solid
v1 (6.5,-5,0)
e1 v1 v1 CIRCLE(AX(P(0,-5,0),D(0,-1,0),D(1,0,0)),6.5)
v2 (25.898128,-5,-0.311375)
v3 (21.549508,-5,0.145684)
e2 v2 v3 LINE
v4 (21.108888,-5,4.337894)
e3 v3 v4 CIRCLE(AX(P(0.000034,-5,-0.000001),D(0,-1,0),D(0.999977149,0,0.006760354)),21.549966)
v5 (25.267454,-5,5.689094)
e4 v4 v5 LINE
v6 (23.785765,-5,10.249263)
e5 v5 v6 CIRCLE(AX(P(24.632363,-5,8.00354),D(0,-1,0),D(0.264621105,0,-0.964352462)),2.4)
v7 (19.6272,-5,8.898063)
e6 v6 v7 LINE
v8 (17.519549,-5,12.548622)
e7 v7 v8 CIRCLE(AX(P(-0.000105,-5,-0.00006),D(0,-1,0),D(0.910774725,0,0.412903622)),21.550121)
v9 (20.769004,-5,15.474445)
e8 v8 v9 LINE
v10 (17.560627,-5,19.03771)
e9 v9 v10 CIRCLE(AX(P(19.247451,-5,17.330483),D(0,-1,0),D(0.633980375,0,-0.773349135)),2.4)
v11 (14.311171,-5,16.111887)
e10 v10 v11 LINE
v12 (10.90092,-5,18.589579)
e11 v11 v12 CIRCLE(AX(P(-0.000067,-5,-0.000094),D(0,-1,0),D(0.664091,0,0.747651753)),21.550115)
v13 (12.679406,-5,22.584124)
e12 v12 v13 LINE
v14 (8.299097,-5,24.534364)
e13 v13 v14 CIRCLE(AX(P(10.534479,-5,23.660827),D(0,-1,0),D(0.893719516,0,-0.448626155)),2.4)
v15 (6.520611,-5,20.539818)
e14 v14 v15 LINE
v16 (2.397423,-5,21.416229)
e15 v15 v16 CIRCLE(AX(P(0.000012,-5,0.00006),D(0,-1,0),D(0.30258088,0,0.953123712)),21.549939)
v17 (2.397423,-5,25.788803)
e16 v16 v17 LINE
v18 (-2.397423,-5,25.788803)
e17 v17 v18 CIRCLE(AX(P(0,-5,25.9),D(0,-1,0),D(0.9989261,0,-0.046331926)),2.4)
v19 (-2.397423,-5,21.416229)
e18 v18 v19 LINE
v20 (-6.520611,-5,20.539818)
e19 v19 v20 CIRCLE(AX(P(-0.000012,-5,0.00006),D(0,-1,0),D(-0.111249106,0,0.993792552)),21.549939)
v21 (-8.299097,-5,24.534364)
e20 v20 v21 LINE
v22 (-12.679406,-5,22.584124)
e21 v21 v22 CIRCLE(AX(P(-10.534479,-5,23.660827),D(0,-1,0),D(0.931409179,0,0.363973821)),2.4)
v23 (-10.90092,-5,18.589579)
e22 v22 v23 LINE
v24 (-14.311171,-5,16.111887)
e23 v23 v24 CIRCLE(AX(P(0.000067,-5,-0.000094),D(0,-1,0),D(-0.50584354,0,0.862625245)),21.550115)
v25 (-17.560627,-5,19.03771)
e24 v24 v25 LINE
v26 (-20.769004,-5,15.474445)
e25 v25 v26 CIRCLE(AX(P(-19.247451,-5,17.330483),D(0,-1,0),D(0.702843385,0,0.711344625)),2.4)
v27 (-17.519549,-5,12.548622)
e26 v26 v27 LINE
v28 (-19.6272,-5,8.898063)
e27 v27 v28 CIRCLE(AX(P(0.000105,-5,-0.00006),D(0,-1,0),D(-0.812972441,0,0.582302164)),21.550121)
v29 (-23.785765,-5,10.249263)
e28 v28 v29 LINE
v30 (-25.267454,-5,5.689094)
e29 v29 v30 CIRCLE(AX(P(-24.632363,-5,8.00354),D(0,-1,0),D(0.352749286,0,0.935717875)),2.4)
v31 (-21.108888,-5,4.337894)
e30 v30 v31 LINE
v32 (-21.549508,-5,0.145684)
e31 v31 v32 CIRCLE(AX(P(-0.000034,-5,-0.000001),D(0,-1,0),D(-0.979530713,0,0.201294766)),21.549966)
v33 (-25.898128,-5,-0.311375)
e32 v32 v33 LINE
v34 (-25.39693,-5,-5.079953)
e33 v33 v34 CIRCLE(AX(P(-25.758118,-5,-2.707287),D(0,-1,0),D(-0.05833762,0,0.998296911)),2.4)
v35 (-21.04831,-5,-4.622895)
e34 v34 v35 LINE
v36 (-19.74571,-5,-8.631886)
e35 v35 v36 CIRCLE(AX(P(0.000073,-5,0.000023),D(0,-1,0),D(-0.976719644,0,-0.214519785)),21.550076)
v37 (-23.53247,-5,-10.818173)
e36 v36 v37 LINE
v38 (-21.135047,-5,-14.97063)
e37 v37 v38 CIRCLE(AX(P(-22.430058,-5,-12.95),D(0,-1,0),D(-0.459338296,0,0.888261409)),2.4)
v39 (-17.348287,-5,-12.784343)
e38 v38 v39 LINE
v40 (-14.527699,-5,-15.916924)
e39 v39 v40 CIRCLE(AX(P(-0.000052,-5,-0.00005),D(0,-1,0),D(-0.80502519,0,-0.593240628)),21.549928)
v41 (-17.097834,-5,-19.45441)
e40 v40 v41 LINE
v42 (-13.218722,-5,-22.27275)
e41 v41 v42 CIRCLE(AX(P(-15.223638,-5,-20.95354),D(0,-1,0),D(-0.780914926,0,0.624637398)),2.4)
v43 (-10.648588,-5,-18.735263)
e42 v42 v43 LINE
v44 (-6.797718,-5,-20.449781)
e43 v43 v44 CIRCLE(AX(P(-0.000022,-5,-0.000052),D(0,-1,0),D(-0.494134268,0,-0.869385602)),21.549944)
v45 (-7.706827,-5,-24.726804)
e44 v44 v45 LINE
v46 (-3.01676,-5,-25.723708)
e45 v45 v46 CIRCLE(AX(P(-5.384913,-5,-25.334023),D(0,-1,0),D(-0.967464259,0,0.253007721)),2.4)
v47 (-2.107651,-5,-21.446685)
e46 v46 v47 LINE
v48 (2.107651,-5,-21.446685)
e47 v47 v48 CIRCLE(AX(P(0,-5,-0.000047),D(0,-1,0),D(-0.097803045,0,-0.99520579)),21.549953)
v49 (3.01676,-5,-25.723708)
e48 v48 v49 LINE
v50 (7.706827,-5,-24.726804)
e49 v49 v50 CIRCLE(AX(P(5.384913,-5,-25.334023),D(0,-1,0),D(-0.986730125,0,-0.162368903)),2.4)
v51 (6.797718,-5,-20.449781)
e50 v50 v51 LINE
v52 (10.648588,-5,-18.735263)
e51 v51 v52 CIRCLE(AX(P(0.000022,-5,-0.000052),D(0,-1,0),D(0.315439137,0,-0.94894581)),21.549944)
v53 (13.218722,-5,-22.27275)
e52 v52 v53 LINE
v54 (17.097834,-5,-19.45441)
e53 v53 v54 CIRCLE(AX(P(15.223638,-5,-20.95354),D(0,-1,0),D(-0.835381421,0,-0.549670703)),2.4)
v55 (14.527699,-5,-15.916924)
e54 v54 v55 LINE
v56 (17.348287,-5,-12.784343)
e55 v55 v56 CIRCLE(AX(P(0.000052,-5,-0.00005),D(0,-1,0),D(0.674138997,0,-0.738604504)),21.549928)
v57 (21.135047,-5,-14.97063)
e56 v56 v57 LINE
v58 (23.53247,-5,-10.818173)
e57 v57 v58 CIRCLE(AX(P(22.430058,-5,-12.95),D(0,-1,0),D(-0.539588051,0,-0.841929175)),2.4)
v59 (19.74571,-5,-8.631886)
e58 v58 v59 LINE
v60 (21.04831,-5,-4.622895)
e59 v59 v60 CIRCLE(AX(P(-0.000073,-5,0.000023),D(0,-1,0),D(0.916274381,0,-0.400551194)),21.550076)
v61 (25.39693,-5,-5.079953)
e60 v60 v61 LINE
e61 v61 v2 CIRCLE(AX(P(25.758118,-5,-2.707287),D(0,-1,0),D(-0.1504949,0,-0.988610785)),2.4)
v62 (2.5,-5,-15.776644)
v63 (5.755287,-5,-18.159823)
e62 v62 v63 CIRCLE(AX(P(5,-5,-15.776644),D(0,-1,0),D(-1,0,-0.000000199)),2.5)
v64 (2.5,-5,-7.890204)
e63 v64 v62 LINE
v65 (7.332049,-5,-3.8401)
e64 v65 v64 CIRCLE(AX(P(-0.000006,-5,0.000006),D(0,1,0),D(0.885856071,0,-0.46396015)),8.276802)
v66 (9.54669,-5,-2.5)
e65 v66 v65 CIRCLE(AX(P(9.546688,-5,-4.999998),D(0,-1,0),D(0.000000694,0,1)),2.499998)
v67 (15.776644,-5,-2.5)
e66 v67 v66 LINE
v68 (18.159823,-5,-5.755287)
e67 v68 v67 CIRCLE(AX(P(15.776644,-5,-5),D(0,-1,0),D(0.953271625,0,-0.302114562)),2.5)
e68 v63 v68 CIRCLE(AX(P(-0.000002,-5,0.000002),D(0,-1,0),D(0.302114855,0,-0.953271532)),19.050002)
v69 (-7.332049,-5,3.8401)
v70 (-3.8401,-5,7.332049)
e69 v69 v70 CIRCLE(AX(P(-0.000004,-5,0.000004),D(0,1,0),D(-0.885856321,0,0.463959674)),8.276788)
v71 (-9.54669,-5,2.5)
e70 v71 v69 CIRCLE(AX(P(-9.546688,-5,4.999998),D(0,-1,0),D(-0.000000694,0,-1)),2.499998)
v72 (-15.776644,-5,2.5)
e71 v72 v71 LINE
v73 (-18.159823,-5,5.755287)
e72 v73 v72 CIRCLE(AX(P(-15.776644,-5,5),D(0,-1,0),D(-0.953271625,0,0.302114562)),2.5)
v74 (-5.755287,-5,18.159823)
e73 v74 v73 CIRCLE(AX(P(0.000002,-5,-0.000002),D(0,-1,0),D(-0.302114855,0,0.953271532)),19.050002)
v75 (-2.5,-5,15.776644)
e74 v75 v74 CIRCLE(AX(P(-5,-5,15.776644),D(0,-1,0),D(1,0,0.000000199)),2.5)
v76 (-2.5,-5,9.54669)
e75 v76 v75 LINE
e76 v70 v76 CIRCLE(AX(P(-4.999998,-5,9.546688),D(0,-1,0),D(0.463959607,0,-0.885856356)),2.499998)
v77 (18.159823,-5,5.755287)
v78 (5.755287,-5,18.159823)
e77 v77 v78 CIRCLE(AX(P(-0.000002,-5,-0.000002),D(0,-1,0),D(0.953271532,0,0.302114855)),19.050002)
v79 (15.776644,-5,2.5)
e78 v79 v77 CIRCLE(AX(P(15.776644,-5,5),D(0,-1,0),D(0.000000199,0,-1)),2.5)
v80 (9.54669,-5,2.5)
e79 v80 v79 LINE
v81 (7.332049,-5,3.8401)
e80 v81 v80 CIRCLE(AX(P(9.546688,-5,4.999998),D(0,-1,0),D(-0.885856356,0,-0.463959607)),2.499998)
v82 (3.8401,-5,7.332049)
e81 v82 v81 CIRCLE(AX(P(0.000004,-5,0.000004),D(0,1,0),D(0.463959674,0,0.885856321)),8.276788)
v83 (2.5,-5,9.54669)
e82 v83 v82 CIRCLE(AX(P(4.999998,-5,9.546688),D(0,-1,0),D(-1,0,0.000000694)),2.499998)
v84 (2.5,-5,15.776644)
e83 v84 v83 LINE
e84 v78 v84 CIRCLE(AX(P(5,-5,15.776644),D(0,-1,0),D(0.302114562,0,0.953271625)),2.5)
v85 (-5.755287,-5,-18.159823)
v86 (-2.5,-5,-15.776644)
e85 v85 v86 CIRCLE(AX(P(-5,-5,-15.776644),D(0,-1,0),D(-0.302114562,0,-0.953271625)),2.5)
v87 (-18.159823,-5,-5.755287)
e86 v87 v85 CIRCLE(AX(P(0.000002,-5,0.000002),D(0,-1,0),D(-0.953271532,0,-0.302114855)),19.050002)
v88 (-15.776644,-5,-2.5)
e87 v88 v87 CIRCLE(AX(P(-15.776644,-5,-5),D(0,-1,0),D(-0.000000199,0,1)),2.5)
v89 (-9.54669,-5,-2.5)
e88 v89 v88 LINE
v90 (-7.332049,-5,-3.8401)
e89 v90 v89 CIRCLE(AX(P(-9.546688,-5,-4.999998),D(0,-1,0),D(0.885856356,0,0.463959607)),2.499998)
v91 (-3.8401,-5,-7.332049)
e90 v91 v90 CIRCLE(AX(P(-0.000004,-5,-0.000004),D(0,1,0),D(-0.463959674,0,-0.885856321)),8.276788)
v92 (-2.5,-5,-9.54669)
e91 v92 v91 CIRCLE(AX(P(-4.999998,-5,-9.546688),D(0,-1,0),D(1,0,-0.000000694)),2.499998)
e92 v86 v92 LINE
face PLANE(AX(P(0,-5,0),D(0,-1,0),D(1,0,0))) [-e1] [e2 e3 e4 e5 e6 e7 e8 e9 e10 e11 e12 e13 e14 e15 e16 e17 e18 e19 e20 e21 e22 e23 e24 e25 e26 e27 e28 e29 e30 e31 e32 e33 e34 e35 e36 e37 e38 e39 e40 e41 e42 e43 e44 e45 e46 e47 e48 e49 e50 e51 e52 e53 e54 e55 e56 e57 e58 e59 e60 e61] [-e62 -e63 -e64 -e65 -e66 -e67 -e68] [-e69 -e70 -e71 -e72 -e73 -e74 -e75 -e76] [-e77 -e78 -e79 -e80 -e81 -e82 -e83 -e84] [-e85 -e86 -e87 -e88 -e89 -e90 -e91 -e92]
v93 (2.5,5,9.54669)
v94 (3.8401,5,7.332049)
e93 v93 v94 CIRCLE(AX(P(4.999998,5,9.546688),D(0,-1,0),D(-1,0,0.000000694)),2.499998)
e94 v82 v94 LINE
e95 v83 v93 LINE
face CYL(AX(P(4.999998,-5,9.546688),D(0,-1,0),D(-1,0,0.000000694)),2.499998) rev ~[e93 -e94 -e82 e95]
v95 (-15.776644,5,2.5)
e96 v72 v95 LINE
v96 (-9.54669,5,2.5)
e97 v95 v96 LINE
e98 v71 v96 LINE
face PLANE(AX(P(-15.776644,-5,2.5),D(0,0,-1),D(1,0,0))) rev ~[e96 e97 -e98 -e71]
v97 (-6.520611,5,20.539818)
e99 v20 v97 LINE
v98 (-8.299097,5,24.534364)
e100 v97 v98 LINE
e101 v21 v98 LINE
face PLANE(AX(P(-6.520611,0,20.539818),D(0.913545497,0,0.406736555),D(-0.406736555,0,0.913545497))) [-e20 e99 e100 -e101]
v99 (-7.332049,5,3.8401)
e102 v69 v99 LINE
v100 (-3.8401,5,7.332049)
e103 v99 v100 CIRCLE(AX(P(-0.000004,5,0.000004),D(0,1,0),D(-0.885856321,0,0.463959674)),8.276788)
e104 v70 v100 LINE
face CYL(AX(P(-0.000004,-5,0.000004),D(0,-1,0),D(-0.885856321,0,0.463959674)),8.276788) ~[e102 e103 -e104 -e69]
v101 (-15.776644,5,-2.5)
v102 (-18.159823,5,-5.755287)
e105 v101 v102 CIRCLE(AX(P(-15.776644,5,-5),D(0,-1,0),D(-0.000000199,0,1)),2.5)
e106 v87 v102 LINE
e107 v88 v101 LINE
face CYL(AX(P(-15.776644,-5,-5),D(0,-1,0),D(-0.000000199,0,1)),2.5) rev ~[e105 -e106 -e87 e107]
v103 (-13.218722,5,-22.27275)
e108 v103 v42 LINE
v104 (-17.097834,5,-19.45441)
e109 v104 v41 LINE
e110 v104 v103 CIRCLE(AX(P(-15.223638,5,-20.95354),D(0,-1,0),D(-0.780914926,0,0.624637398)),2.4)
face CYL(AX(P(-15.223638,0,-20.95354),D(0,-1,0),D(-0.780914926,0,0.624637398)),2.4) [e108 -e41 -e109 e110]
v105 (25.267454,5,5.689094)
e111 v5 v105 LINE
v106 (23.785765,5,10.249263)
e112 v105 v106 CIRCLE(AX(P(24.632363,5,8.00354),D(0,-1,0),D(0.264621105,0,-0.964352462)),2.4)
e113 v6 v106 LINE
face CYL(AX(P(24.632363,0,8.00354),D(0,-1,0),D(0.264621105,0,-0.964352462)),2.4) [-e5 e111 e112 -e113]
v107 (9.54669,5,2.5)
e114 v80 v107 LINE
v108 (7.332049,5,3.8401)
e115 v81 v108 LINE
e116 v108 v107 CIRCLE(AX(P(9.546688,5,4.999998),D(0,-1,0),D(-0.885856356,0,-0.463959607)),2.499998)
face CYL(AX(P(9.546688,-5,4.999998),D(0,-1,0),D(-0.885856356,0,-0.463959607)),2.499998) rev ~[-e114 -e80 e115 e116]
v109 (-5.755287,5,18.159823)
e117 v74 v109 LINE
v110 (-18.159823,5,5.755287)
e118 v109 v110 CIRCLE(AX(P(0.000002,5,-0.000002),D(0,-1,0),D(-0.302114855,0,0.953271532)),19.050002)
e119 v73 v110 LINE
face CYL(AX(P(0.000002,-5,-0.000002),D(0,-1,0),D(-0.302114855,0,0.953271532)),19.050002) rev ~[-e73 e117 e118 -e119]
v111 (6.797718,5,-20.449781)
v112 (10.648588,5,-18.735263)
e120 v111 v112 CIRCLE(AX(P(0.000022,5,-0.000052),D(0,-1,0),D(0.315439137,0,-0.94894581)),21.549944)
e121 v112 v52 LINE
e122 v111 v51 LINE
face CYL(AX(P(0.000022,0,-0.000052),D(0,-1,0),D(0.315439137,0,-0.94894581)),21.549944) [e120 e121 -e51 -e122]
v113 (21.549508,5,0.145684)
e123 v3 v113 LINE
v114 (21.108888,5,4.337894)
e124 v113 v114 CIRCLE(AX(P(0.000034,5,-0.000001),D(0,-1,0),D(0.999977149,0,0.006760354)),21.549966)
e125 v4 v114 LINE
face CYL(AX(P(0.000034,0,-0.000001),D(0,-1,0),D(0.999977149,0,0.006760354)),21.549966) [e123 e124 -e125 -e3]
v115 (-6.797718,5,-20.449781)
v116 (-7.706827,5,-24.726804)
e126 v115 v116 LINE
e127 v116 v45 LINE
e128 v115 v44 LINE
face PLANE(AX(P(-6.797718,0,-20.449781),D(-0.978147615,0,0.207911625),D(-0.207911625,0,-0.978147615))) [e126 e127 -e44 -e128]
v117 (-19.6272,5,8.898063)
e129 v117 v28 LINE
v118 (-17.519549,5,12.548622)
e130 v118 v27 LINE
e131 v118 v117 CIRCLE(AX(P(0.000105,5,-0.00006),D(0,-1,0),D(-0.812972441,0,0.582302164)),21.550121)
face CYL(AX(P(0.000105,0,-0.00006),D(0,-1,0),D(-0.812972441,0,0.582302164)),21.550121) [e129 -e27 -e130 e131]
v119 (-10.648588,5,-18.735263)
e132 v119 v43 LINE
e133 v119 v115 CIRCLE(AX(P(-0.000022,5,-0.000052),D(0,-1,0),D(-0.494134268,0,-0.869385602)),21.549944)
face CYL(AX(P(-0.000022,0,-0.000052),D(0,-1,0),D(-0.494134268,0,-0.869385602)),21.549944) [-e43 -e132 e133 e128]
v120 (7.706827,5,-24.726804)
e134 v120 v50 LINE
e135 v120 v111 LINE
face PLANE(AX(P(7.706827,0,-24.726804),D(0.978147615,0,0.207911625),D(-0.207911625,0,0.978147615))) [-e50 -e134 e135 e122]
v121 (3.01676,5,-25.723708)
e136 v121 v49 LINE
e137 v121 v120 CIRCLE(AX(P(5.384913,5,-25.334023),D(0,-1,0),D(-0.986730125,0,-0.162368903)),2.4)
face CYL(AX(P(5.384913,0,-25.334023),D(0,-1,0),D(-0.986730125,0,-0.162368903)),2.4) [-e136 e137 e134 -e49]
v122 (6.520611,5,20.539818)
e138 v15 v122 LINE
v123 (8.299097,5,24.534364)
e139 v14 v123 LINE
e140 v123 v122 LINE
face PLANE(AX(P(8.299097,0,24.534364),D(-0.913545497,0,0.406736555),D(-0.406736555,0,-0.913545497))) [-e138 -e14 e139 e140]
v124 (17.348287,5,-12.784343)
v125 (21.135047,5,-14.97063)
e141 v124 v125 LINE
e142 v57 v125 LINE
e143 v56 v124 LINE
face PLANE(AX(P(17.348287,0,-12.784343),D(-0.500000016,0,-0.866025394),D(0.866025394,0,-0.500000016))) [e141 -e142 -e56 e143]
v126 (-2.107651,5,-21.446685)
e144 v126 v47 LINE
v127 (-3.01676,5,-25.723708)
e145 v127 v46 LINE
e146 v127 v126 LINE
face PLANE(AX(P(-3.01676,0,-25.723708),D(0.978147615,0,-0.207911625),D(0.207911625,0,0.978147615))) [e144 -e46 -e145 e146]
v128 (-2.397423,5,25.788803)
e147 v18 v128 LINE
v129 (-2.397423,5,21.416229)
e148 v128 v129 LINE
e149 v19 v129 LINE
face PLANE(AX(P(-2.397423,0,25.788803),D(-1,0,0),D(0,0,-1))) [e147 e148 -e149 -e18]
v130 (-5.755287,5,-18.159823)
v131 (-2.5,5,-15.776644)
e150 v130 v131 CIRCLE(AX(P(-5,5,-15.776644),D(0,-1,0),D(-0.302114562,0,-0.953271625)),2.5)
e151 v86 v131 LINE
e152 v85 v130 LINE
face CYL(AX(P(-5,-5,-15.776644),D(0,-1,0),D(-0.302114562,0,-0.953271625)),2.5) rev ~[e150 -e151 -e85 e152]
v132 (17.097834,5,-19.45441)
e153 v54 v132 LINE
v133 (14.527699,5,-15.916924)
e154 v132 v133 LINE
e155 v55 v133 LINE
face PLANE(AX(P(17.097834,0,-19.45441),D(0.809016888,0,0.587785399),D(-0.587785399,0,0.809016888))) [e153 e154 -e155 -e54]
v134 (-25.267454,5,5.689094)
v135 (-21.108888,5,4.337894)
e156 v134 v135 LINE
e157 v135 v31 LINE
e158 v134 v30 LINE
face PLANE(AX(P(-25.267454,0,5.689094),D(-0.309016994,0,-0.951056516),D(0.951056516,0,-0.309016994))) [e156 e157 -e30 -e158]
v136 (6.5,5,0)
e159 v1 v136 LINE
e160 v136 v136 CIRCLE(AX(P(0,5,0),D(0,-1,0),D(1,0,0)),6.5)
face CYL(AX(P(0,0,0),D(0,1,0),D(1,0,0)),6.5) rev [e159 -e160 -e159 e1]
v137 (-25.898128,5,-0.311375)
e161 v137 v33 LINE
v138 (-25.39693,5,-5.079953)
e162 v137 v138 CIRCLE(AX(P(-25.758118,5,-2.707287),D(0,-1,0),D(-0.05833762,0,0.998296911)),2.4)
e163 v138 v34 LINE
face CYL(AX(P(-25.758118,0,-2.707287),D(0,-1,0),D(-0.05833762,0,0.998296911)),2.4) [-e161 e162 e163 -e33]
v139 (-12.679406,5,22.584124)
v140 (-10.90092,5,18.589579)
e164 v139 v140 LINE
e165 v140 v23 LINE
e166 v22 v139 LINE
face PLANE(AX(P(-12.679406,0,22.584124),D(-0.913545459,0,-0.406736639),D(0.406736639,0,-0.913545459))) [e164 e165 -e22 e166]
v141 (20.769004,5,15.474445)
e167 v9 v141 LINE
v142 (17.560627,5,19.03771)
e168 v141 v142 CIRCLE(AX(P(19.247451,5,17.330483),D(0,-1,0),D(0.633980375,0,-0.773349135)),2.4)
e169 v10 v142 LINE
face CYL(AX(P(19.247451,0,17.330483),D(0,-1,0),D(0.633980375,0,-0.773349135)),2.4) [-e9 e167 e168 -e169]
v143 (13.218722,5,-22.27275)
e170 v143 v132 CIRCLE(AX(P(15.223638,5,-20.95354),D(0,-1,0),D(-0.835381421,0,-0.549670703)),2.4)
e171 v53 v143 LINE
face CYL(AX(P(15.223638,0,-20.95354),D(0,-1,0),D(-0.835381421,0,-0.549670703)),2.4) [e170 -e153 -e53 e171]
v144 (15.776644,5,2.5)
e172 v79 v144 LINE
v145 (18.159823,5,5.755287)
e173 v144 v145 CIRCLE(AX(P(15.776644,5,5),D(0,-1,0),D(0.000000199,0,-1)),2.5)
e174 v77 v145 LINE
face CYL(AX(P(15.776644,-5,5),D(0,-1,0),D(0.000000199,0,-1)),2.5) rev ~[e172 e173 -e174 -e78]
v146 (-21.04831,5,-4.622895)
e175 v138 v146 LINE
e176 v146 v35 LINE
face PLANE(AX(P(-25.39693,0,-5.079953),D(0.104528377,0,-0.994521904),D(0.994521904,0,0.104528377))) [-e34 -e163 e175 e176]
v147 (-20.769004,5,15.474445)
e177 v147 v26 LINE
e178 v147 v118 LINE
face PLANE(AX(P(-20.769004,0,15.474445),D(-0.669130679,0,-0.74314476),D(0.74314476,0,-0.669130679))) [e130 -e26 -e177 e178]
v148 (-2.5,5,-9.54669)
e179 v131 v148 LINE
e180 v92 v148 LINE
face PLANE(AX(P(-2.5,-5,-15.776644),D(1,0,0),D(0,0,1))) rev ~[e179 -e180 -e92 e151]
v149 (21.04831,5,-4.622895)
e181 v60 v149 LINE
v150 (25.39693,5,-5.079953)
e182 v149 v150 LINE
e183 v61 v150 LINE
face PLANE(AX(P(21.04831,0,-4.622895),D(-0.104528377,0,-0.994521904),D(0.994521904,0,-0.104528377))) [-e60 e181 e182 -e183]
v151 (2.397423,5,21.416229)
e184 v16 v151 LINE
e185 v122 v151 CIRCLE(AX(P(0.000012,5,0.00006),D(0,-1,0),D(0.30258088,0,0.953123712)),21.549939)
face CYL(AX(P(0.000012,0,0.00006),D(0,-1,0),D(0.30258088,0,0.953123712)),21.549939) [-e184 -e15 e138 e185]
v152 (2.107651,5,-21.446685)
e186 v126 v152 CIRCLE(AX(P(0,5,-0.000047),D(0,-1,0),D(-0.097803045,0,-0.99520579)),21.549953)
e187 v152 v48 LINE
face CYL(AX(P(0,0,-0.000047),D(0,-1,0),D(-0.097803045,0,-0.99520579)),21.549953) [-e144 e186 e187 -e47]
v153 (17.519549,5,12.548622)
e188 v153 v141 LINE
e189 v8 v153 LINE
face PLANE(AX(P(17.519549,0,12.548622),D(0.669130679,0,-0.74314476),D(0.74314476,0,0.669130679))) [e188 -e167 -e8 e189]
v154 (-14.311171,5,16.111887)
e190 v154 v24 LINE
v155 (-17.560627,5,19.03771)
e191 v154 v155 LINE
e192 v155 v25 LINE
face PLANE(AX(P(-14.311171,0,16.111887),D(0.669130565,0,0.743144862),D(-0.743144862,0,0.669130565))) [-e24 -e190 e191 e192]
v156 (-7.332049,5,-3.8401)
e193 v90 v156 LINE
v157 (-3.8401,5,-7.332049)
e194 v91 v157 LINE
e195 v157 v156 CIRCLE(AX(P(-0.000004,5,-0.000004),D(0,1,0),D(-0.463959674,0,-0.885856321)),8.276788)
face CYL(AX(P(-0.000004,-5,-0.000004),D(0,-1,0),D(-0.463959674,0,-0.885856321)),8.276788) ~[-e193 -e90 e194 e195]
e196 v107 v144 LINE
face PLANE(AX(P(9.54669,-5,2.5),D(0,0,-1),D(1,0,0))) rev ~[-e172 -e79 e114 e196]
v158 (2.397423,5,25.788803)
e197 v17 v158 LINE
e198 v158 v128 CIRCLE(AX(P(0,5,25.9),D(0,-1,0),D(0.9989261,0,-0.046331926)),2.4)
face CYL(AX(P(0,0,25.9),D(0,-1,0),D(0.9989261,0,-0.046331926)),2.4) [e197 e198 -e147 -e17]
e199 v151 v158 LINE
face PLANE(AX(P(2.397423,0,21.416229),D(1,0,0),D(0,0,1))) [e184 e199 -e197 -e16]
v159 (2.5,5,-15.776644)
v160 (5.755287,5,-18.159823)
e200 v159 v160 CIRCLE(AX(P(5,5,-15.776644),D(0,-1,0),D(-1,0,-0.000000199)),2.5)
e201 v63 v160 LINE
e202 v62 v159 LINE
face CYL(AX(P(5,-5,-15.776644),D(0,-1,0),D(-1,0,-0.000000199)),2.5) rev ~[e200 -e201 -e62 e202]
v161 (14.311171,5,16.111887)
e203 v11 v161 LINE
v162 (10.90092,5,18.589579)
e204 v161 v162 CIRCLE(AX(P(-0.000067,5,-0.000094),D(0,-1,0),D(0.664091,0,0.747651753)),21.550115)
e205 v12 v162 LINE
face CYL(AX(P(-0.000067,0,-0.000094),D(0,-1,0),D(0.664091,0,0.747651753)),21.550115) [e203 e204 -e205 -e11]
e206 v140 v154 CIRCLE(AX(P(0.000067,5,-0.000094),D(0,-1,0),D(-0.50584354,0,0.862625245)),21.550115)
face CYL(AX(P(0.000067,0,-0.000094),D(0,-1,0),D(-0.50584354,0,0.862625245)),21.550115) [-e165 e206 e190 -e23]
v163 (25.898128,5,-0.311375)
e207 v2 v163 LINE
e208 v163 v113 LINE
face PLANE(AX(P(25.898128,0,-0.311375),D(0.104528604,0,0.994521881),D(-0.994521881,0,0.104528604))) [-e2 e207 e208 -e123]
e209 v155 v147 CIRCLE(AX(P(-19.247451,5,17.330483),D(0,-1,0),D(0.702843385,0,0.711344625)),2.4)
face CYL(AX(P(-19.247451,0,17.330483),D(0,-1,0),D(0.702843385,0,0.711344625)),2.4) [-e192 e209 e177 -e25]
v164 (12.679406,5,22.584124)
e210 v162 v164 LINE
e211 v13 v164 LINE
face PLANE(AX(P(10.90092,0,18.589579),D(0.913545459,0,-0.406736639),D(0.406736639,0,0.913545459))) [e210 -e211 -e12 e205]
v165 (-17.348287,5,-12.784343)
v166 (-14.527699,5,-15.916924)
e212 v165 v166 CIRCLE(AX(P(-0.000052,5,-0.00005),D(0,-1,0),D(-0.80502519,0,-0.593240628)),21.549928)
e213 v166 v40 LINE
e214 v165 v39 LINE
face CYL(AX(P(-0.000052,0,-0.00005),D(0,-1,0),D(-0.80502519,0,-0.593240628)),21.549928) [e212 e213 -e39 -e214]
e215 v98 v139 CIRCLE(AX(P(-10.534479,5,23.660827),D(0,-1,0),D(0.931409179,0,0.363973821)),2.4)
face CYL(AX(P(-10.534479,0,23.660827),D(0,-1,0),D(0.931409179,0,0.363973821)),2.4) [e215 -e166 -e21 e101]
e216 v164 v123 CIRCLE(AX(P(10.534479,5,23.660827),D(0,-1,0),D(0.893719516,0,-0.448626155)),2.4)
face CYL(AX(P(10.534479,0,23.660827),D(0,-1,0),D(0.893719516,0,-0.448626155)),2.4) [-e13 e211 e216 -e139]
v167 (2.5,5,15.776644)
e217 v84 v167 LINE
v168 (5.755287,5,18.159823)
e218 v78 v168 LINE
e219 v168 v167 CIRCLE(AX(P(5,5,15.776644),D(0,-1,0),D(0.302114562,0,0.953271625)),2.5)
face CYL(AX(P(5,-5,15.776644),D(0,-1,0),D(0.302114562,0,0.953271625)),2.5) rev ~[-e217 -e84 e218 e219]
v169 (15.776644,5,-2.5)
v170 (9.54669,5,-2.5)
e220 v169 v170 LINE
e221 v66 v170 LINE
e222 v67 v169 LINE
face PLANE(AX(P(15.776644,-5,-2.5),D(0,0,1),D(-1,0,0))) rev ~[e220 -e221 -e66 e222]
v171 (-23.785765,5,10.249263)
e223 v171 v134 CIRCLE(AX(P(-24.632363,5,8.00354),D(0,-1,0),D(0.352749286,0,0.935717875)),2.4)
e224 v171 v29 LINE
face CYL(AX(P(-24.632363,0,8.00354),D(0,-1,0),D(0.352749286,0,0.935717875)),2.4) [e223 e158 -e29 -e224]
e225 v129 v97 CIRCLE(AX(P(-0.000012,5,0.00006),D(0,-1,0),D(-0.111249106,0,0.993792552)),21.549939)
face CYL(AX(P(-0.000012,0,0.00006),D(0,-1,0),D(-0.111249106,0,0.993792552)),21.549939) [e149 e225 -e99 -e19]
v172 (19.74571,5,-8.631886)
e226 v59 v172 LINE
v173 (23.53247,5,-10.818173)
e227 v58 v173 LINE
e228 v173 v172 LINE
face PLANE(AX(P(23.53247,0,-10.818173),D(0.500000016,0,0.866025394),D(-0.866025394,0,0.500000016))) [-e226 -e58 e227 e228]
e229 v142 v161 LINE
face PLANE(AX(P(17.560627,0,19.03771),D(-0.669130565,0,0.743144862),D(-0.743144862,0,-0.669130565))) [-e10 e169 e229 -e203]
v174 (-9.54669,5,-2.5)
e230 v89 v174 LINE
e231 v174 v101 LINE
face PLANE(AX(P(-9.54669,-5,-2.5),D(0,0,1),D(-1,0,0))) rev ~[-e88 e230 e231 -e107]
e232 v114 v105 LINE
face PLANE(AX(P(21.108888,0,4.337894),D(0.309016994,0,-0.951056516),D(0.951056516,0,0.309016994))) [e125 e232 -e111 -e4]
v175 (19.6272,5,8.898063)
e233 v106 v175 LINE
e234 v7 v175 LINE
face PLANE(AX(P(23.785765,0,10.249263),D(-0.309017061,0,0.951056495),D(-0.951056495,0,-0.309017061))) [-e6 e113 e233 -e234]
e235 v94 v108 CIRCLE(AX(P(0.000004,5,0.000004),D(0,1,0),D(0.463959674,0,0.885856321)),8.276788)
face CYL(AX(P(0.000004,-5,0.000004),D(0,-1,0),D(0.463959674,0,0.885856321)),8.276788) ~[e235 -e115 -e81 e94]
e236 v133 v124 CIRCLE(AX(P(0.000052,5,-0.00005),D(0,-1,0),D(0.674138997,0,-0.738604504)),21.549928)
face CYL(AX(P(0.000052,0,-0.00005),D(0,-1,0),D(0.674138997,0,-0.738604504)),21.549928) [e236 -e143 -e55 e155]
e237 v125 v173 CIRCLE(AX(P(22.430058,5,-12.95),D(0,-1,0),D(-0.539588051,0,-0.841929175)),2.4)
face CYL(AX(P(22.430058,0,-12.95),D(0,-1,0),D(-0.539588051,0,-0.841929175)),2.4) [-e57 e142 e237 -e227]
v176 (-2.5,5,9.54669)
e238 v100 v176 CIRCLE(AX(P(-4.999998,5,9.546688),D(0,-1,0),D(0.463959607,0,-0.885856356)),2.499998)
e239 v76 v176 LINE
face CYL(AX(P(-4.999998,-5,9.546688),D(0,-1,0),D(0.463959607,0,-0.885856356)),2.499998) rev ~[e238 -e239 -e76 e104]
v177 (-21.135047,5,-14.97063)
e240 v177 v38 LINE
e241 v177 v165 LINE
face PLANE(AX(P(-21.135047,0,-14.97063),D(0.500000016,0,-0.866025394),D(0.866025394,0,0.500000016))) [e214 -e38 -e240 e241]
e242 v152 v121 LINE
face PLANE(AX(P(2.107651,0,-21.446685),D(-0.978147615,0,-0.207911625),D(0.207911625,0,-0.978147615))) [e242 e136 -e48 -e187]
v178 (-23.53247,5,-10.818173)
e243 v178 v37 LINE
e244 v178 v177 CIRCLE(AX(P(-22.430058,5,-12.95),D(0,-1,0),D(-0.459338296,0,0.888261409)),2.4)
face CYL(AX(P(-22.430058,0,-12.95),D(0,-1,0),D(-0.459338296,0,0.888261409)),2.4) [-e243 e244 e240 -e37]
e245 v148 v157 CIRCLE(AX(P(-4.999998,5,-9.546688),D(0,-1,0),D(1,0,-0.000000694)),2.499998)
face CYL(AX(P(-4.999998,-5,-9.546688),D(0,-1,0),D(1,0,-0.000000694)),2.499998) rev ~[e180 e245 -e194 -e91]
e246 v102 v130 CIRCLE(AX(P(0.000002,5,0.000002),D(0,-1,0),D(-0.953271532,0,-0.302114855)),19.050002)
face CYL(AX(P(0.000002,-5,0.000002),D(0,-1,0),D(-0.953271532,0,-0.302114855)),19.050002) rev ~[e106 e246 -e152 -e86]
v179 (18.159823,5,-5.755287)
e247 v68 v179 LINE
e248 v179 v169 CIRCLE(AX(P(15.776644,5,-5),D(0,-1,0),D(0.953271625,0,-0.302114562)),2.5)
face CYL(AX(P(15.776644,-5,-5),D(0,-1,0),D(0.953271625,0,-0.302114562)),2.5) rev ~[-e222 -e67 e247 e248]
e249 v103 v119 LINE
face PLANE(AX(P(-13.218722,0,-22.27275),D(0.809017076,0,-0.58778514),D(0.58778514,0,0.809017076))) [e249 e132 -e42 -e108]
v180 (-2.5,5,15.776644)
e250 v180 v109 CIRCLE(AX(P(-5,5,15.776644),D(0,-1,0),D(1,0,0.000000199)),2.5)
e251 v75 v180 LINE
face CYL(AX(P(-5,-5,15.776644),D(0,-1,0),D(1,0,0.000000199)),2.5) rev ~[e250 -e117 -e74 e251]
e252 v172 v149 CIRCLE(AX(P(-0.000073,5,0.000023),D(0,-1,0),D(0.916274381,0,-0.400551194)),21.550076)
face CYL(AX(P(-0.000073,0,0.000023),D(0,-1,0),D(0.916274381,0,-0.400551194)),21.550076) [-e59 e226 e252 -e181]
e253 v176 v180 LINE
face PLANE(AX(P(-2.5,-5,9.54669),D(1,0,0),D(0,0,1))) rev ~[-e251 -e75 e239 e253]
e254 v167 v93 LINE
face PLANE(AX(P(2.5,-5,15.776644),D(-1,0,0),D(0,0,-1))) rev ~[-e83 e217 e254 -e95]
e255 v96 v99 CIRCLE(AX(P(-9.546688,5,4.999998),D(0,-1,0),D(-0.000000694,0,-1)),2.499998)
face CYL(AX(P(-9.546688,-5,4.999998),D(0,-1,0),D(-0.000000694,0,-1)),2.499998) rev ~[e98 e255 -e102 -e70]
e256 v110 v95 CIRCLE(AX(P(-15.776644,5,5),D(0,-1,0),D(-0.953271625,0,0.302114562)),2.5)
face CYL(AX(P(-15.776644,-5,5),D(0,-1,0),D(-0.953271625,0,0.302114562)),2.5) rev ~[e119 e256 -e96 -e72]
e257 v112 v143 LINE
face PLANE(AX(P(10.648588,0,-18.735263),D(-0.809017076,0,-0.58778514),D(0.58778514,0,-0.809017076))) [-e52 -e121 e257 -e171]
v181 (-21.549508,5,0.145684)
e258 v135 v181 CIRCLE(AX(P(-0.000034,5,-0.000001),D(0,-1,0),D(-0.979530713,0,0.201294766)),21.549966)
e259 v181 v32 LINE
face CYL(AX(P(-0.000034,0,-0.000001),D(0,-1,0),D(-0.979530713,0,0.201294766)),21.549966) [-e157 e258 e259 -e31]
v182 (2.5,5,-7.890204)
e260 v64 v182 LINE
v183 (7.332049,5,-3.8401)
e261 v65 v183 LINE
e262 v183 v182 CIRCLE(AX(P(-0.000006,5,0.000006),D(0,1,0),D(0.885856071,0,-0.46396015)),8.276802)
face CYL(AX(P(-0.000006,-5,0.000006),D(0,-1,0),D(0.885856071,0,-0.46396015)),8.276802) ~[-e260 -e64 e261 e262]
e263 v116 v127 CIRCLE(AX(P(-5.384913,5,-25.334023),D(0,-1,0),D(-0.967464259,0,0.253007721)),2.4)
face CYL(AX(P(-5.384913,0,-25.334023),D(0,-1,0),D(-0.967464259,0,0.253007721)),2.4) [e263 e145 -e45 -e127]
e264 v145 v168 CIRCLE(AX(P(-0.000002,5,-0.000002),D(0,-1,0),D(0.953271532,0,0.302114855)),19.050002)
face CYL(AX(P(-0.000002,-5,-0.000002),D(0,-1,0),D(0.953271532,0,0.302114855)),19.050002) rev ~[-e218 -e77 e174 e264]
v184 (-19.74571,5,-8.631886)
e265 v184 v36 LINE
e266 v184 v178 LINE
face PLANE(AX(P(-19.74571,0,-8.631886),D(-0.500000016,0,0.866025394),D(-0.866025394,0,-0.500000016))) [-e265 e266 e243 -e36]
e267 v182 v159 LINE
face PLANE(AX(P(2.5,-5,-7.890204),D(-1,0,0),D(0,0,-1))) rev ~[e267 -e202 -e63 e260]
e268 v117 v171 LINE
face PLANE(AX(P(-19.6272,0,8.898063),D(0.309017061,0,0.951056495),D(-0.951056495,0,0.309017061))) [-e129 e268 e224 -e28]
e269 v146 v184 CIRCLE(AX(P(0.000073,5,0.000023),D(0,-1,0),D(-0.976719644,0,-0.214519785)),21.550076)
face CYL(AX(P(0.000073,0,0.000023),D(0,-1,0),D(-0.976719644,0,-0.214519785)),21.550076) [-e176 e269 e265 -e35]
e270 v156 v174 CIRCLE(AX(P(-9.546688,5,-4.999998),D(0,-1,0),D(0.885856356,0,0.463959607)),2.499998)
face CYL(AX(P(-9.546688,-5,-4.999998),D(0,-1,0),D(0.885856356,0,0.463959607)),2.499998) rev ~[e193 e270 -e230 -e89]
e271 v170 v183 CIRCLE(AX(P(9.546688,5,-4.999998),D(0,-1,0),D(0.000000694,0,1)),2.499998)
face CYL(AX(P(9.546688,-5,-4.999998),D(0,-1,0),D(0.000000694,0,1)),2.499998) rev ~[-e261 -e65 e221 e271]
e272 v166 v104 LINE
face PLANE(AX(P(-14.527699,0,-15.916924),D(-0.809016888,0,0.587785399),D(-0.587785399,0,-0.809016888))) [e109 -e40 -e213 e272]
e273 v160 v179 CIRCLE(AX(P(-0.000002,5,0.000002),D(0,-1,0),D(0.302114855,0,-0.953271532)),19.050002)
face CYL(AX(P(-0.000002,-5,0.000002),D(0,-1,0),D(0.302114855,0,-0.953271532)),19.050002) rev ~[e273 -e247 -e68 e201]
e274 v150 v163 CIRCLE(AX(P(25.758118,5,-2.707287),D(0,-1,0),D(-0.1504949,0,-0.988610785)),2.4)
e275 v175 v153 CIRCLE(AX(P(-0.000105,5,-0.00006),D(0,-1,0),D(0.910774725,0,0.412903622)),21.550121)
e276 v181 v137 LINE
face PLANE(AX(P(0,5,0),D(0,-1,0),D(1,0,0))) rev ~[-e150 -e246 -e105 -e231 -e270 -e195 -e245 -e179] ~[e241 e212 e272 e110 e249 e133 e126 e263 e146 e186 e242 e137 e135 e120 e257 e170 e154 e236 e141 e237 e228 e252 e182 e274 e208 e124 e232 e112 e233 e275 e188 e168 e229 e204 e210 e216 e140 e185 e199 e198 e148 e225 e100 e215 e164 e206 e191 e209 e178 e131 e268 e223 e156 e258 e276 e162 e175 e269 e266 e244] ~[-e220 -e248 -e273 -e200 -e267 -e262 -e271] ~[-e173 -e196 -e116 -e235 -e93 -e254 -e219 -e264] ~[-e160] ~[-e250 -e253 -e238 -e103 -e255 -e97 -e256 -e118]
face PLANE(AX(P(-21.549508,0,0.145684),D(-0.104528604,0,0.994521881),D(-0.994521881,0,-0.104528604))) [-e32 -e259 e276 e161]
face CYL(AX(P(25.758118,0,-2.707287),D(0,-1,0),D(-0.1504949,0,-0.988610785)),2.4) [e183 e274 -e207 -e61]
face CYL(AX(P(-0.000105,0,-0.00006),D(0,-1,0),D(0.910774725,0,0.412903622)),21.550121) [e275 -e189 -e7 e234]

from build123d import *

# Parameters (mm, degrees)
F0_R     = 6.5
F1_DEPTH = 5
F3_DEPTH = 10


with BuildPart() as f1:
    # F0 (on Front) → F1 (new body, symmetric)
    with BuildSketch(Plane.XZ):
        with BuildLine():
            Line((-12.679406, 22.584124), (-10.90092, 18.589579))
            ThreePointArc((-10.90092, 18.589579), (-12.666772, 17.434316), (-14.311171, 16.111887))
            Line((-14.311171, 16.111887), (-17.560627, 19.03771))
            ThreePointArc((-17.560627, 19.03771), (-21.030999, 18.936396), (-20.769004, 15.474445))
            Line((-20.769004, 15.474445), (-17.519549, 12.548622))
            ThreePointArc((-17.519549, 12.548622), (-18.662847, 10.775), (-19.6272, 8.898063))
            Line((-19.6272, 8.898063), (-23.785765, 10.249263))
            ThreePointArc((-23.785765, 10.249263), (-26.914899, 8.745181), (-25.267454, 5.689094))
            Line((-25.267454, 5.689094), (-21.108888, 4.337894))
            ThreePointArc((-21.108888, 4.337894), (-21.431947, 2.252588), (-21.549508, 0.145684))
            Line((-21.549508, 0.145684), (-25.898128, -0.311375))
            ThreePointArc((-25.898128, -0.311375), (-28.14497, -2.958156), (-25.39693, -5.079953))
            Line((-25.39693, -5.079953), (-21.04831, -4.622895))
            ThreePointArc((-21.04831, -4.622895), (-20.495268, -6.659316), (-19.74571, -8.631886))
            Line((-19.74571, -8.631886), (-23.53247, -10.818173))
            ThreePointArc((-23.53247, -10.818173), (-24.508519, -14.15), (-21.135047, -14.97063))
            Line((-21.135047, -14.97063), (-17.348287, -12.784343))
            ThreePointArc((-17.348287, -12.784343), (-16.014771, -14.419765), (-14.527699, -15.916924))
            Line((-14.527699, -15.916924), (-17.097834, -19.45441))
            ThreePointArc((-17.097834, -19.45441), (-16.634323, -22.895181), (-13.218722, -22.27275))
            Line((-13.218722, -22.27275), (-10.648588, -18.735263))
            ThreePointArc((-10.648588, -18.735263), (-8.765175, -19.686905), (-6.797718, -20.449781))
            Line((-6.797718, -20.449781), (-7.706827, -24.726804))
            ThreePointArc((-7.706827, -24.726804), (-5.883901, -27.681577), (-3.01676, -25.723708))
            Line((-3.01676, -25.723708), (-2.107651, -21.446685))
            ThreePointArc((-2.107651, -21.446685), (0, -21.55), (2.107651, -21.446685))
            Line((2.107651, -21.446685), (3.01676, -25.723708))
            ThreePointArc((3.01676, -25.723708), (5.883901, -27.681577), (7.706827, -24.726804))
            Line((7.706827, -24.726804), (6.797718, -20.449781))
            ThreePointArc((6.797718, -20.449781), (8.765175, -19.686905), (10.648588, -18.735263))
            Line((10.648588, -18.735263), (13.218722, -22.27275))
            ThreePointArc((13.218722, -22.27275), (16.634323, -22.895181), (17.097834, -19.45441))
            Line((17.097834, -19.45441), (14.527699, -15.916924))
            ThreePointArc((14.527699, -15.916924), (16.014771, -14.419765), (17.348287, -12.784343))
            Line((17.348287, -12.784343), (21.135047, -14.97063))
            ThreePointArc((21.135047, -14.97063), (24.508519, -14.15), (23.53247, -10.818173))
            Line((23.53247, -10.818173), (19.74571, -8.631886))
            ThreePointArc((19.74571, -8.631886), (20.495268, -6.659316), (21.04831, -4.622895))
            Line((21.04831, -4.622895), (25.39693, -5.079953))
            ThreePointArc((25.39693, -5.079953), (28.14497, -2.958156), (25.898128, -0.311375))
            Line((25.898128, -0.311375), (21.549508, 0.145684))
            ThreePointArc((21.549508, 0.145684), (21.431947, 2.252588), (21.108888, 4.337894))
            Line((21.108888, 4.337894), (25.267454, 5.689094))
            ThreePointArc((25.267454, 5.689094), (26.914899, 8.745181), (23.785765, 10.249263))
            Line((23.785765, 10.249263), (19.6272, 8.898063))
            ThreePointArc((19.6272, 8.898063), (18.662847, 10.775), (17.519549, 12.548622))
            Line((17.519549, 12.548622), (20.769004, 15.474445))
            ThreePointArc((20.769004, 15.474445), (21.030999, 18.936396), (17.560627, 19.03771))
            Line((17.560627, 19.03771), (14.311171, 16.111887))
            ThreePointArc((14.311171, 16.111887), (12.666772, 17.434316), (10.90092, 18.589579))
            Line((10.90092, 18.589579), (12.679406, 22.584124))
            ThreePointArc((12.679406, 22.584124), (11.510647, 25.853336), (8.299097, 24.534364))
            Line((8.299097, 24.534364), (6.520611, 20.539818))
            ThreePointArc((6.520611, 20.539818), (4.480497, 21.079081), (2.397423, 21.416229))
            Line((2.397423, 21.416229), (2.397423, 25.788803))
            ThreePointArc((2.397423, 25.788803), (0, 28.3), (-2.397423, 25.788803))
            Line((-2.397423, 25.788803), (-2.397423, 21.416229))
            ThreePointArc((-2.397423, 21.416229), (-4.480497, 21.079081), (-6.520611, 20.539818))
            Line((-6.520611, 20.539818), (-8.299097, 24.534364))
            ThreePointArc((-8.299097, 24.534364), (-11.510647, 25.853336), (-12.679406, 22.584124))
        make_face()
        Circle(F0_R, mode=Mode.SUBTRACT)
    extrude(amount=F1_DEPTH, both=True)

    # F2 (on face) → F3 (cut)
    with BuildSketch(Plane.XZ.offset(5)):
        with BuildLine():
            ThreePointArc((-5.755287, 18.159823), (-13.470384, 13.470384), (-18.159823, 5.755287))
            ThreePointArc((-18.159823, 5.755287), (-17.793847, 3.523216), (-15.776644, 2.5))
            Line((-15.776644, 2.5), (-9.54669, 2.5))
            ThreePointArc((-9.54669, 2.5), (-8.252423, 2.861104), (-7.332049, 3.8401))
            ThreePointArc((-7.332049, 3.8401), (-5.852577, 5.852577), (-3.8401, 7.332049))
            ThreePointArc((-3.8401, 7.332049), (-2.861104, 8.252423), (-2.5, 9.54669))
            Line((-2.5, 9.54669), (-2.5, 15.776644))
            ThreePointArc((-2.5, 15.776644), (-3.523216, 17.793847), (-5.755287, 18.159823))
        make_face()
        with BuildLine():
            ThreePointArc((5.755287, 18.159823), (3.523216, 17.793847), (2.5, 15.776644))
            Line((2.5, 15.776644), (2.5, 9.54669))
            ThreePointArc((2.5, 9.54669), (2.861104, 8.252423), (3.8401, 7.332049))
            ThreePointArc((3.8401, 7.332049), (5.852577, 5.852577), (7.332049, 3.8401))
            ThreePointArc((7.332049, 3.8401), (8.252423, 2.861104), (9.54669, 2.5))
            Line((9.54669, 2.5), (15.776644, 2.5))
            ThreePointArc((15.776644, 2.5), (17.793847, 3.523216), (18.159823, 5.755287))
            ThreePointArc((18.159823, 5.755287), (13.470384, 13.470384), (5.755287, 18.159823))
        make_face()
        with BuildLine():
            Line((-9.54669, -2.5), (-15.776644, -2.5))
            ThreePointArc((-15.776644, -2.5), (-17.793847, -3.523216), (-18.159823, -5.755287))
            ThreePointArc((-18.159823, -5.755287), (-13.470384, -13.470384), (-5.755287, -18.159823))
            ThreePointArc((-5.755287, -18.159823), (-3.523216, -17.793847), (-2.5, -15.776644))
            Line((-2.5, -15.776644), (-2.5, -9.54669))
            ThreePointArc((-2.5, -9.54669), (-2.861104, -8.252423), (-3.8401, -7.332049))
            ThreePointArc((-3.8401, -7.332049), (-5.852577, -5.852577), (-7.332049, -3.8401))
            ThreePointArc((-7.332049, -3.8401), (-8.252423, -2.861104), (-9.54669, -2.5))
        make_face()
        with BuildLine():
            Line((2.5, -7.890204), (2.5, -15.776644))
            ThreePointArc((2.5, -15.776644), (3.523216, -17.793847), (5.755287, -18.159823))
            ThreePointArc((5.755287, -18.159823), (13.470384, -13.470384), (18.159823, -5.755287))
            ThreePointArc((18.159823, -5.755287), (17.793847, -3.523216), (15.776644, -2.5))
            Line((15.776644, -2.5), (9.54669, -2.5))
            ThreePointArc((9.54669, -2.5), (8.252423, -2.861104), (7.332049, -3.8401))
            ThreePointArc((7.332049, -3.8401), (5.316778, -6.343278), (2.5, -7.890204))
        make_face()
    extrude(amount=-F3_DEPTH, mode=Mode.SUBTRACT)


solid = f1.part
